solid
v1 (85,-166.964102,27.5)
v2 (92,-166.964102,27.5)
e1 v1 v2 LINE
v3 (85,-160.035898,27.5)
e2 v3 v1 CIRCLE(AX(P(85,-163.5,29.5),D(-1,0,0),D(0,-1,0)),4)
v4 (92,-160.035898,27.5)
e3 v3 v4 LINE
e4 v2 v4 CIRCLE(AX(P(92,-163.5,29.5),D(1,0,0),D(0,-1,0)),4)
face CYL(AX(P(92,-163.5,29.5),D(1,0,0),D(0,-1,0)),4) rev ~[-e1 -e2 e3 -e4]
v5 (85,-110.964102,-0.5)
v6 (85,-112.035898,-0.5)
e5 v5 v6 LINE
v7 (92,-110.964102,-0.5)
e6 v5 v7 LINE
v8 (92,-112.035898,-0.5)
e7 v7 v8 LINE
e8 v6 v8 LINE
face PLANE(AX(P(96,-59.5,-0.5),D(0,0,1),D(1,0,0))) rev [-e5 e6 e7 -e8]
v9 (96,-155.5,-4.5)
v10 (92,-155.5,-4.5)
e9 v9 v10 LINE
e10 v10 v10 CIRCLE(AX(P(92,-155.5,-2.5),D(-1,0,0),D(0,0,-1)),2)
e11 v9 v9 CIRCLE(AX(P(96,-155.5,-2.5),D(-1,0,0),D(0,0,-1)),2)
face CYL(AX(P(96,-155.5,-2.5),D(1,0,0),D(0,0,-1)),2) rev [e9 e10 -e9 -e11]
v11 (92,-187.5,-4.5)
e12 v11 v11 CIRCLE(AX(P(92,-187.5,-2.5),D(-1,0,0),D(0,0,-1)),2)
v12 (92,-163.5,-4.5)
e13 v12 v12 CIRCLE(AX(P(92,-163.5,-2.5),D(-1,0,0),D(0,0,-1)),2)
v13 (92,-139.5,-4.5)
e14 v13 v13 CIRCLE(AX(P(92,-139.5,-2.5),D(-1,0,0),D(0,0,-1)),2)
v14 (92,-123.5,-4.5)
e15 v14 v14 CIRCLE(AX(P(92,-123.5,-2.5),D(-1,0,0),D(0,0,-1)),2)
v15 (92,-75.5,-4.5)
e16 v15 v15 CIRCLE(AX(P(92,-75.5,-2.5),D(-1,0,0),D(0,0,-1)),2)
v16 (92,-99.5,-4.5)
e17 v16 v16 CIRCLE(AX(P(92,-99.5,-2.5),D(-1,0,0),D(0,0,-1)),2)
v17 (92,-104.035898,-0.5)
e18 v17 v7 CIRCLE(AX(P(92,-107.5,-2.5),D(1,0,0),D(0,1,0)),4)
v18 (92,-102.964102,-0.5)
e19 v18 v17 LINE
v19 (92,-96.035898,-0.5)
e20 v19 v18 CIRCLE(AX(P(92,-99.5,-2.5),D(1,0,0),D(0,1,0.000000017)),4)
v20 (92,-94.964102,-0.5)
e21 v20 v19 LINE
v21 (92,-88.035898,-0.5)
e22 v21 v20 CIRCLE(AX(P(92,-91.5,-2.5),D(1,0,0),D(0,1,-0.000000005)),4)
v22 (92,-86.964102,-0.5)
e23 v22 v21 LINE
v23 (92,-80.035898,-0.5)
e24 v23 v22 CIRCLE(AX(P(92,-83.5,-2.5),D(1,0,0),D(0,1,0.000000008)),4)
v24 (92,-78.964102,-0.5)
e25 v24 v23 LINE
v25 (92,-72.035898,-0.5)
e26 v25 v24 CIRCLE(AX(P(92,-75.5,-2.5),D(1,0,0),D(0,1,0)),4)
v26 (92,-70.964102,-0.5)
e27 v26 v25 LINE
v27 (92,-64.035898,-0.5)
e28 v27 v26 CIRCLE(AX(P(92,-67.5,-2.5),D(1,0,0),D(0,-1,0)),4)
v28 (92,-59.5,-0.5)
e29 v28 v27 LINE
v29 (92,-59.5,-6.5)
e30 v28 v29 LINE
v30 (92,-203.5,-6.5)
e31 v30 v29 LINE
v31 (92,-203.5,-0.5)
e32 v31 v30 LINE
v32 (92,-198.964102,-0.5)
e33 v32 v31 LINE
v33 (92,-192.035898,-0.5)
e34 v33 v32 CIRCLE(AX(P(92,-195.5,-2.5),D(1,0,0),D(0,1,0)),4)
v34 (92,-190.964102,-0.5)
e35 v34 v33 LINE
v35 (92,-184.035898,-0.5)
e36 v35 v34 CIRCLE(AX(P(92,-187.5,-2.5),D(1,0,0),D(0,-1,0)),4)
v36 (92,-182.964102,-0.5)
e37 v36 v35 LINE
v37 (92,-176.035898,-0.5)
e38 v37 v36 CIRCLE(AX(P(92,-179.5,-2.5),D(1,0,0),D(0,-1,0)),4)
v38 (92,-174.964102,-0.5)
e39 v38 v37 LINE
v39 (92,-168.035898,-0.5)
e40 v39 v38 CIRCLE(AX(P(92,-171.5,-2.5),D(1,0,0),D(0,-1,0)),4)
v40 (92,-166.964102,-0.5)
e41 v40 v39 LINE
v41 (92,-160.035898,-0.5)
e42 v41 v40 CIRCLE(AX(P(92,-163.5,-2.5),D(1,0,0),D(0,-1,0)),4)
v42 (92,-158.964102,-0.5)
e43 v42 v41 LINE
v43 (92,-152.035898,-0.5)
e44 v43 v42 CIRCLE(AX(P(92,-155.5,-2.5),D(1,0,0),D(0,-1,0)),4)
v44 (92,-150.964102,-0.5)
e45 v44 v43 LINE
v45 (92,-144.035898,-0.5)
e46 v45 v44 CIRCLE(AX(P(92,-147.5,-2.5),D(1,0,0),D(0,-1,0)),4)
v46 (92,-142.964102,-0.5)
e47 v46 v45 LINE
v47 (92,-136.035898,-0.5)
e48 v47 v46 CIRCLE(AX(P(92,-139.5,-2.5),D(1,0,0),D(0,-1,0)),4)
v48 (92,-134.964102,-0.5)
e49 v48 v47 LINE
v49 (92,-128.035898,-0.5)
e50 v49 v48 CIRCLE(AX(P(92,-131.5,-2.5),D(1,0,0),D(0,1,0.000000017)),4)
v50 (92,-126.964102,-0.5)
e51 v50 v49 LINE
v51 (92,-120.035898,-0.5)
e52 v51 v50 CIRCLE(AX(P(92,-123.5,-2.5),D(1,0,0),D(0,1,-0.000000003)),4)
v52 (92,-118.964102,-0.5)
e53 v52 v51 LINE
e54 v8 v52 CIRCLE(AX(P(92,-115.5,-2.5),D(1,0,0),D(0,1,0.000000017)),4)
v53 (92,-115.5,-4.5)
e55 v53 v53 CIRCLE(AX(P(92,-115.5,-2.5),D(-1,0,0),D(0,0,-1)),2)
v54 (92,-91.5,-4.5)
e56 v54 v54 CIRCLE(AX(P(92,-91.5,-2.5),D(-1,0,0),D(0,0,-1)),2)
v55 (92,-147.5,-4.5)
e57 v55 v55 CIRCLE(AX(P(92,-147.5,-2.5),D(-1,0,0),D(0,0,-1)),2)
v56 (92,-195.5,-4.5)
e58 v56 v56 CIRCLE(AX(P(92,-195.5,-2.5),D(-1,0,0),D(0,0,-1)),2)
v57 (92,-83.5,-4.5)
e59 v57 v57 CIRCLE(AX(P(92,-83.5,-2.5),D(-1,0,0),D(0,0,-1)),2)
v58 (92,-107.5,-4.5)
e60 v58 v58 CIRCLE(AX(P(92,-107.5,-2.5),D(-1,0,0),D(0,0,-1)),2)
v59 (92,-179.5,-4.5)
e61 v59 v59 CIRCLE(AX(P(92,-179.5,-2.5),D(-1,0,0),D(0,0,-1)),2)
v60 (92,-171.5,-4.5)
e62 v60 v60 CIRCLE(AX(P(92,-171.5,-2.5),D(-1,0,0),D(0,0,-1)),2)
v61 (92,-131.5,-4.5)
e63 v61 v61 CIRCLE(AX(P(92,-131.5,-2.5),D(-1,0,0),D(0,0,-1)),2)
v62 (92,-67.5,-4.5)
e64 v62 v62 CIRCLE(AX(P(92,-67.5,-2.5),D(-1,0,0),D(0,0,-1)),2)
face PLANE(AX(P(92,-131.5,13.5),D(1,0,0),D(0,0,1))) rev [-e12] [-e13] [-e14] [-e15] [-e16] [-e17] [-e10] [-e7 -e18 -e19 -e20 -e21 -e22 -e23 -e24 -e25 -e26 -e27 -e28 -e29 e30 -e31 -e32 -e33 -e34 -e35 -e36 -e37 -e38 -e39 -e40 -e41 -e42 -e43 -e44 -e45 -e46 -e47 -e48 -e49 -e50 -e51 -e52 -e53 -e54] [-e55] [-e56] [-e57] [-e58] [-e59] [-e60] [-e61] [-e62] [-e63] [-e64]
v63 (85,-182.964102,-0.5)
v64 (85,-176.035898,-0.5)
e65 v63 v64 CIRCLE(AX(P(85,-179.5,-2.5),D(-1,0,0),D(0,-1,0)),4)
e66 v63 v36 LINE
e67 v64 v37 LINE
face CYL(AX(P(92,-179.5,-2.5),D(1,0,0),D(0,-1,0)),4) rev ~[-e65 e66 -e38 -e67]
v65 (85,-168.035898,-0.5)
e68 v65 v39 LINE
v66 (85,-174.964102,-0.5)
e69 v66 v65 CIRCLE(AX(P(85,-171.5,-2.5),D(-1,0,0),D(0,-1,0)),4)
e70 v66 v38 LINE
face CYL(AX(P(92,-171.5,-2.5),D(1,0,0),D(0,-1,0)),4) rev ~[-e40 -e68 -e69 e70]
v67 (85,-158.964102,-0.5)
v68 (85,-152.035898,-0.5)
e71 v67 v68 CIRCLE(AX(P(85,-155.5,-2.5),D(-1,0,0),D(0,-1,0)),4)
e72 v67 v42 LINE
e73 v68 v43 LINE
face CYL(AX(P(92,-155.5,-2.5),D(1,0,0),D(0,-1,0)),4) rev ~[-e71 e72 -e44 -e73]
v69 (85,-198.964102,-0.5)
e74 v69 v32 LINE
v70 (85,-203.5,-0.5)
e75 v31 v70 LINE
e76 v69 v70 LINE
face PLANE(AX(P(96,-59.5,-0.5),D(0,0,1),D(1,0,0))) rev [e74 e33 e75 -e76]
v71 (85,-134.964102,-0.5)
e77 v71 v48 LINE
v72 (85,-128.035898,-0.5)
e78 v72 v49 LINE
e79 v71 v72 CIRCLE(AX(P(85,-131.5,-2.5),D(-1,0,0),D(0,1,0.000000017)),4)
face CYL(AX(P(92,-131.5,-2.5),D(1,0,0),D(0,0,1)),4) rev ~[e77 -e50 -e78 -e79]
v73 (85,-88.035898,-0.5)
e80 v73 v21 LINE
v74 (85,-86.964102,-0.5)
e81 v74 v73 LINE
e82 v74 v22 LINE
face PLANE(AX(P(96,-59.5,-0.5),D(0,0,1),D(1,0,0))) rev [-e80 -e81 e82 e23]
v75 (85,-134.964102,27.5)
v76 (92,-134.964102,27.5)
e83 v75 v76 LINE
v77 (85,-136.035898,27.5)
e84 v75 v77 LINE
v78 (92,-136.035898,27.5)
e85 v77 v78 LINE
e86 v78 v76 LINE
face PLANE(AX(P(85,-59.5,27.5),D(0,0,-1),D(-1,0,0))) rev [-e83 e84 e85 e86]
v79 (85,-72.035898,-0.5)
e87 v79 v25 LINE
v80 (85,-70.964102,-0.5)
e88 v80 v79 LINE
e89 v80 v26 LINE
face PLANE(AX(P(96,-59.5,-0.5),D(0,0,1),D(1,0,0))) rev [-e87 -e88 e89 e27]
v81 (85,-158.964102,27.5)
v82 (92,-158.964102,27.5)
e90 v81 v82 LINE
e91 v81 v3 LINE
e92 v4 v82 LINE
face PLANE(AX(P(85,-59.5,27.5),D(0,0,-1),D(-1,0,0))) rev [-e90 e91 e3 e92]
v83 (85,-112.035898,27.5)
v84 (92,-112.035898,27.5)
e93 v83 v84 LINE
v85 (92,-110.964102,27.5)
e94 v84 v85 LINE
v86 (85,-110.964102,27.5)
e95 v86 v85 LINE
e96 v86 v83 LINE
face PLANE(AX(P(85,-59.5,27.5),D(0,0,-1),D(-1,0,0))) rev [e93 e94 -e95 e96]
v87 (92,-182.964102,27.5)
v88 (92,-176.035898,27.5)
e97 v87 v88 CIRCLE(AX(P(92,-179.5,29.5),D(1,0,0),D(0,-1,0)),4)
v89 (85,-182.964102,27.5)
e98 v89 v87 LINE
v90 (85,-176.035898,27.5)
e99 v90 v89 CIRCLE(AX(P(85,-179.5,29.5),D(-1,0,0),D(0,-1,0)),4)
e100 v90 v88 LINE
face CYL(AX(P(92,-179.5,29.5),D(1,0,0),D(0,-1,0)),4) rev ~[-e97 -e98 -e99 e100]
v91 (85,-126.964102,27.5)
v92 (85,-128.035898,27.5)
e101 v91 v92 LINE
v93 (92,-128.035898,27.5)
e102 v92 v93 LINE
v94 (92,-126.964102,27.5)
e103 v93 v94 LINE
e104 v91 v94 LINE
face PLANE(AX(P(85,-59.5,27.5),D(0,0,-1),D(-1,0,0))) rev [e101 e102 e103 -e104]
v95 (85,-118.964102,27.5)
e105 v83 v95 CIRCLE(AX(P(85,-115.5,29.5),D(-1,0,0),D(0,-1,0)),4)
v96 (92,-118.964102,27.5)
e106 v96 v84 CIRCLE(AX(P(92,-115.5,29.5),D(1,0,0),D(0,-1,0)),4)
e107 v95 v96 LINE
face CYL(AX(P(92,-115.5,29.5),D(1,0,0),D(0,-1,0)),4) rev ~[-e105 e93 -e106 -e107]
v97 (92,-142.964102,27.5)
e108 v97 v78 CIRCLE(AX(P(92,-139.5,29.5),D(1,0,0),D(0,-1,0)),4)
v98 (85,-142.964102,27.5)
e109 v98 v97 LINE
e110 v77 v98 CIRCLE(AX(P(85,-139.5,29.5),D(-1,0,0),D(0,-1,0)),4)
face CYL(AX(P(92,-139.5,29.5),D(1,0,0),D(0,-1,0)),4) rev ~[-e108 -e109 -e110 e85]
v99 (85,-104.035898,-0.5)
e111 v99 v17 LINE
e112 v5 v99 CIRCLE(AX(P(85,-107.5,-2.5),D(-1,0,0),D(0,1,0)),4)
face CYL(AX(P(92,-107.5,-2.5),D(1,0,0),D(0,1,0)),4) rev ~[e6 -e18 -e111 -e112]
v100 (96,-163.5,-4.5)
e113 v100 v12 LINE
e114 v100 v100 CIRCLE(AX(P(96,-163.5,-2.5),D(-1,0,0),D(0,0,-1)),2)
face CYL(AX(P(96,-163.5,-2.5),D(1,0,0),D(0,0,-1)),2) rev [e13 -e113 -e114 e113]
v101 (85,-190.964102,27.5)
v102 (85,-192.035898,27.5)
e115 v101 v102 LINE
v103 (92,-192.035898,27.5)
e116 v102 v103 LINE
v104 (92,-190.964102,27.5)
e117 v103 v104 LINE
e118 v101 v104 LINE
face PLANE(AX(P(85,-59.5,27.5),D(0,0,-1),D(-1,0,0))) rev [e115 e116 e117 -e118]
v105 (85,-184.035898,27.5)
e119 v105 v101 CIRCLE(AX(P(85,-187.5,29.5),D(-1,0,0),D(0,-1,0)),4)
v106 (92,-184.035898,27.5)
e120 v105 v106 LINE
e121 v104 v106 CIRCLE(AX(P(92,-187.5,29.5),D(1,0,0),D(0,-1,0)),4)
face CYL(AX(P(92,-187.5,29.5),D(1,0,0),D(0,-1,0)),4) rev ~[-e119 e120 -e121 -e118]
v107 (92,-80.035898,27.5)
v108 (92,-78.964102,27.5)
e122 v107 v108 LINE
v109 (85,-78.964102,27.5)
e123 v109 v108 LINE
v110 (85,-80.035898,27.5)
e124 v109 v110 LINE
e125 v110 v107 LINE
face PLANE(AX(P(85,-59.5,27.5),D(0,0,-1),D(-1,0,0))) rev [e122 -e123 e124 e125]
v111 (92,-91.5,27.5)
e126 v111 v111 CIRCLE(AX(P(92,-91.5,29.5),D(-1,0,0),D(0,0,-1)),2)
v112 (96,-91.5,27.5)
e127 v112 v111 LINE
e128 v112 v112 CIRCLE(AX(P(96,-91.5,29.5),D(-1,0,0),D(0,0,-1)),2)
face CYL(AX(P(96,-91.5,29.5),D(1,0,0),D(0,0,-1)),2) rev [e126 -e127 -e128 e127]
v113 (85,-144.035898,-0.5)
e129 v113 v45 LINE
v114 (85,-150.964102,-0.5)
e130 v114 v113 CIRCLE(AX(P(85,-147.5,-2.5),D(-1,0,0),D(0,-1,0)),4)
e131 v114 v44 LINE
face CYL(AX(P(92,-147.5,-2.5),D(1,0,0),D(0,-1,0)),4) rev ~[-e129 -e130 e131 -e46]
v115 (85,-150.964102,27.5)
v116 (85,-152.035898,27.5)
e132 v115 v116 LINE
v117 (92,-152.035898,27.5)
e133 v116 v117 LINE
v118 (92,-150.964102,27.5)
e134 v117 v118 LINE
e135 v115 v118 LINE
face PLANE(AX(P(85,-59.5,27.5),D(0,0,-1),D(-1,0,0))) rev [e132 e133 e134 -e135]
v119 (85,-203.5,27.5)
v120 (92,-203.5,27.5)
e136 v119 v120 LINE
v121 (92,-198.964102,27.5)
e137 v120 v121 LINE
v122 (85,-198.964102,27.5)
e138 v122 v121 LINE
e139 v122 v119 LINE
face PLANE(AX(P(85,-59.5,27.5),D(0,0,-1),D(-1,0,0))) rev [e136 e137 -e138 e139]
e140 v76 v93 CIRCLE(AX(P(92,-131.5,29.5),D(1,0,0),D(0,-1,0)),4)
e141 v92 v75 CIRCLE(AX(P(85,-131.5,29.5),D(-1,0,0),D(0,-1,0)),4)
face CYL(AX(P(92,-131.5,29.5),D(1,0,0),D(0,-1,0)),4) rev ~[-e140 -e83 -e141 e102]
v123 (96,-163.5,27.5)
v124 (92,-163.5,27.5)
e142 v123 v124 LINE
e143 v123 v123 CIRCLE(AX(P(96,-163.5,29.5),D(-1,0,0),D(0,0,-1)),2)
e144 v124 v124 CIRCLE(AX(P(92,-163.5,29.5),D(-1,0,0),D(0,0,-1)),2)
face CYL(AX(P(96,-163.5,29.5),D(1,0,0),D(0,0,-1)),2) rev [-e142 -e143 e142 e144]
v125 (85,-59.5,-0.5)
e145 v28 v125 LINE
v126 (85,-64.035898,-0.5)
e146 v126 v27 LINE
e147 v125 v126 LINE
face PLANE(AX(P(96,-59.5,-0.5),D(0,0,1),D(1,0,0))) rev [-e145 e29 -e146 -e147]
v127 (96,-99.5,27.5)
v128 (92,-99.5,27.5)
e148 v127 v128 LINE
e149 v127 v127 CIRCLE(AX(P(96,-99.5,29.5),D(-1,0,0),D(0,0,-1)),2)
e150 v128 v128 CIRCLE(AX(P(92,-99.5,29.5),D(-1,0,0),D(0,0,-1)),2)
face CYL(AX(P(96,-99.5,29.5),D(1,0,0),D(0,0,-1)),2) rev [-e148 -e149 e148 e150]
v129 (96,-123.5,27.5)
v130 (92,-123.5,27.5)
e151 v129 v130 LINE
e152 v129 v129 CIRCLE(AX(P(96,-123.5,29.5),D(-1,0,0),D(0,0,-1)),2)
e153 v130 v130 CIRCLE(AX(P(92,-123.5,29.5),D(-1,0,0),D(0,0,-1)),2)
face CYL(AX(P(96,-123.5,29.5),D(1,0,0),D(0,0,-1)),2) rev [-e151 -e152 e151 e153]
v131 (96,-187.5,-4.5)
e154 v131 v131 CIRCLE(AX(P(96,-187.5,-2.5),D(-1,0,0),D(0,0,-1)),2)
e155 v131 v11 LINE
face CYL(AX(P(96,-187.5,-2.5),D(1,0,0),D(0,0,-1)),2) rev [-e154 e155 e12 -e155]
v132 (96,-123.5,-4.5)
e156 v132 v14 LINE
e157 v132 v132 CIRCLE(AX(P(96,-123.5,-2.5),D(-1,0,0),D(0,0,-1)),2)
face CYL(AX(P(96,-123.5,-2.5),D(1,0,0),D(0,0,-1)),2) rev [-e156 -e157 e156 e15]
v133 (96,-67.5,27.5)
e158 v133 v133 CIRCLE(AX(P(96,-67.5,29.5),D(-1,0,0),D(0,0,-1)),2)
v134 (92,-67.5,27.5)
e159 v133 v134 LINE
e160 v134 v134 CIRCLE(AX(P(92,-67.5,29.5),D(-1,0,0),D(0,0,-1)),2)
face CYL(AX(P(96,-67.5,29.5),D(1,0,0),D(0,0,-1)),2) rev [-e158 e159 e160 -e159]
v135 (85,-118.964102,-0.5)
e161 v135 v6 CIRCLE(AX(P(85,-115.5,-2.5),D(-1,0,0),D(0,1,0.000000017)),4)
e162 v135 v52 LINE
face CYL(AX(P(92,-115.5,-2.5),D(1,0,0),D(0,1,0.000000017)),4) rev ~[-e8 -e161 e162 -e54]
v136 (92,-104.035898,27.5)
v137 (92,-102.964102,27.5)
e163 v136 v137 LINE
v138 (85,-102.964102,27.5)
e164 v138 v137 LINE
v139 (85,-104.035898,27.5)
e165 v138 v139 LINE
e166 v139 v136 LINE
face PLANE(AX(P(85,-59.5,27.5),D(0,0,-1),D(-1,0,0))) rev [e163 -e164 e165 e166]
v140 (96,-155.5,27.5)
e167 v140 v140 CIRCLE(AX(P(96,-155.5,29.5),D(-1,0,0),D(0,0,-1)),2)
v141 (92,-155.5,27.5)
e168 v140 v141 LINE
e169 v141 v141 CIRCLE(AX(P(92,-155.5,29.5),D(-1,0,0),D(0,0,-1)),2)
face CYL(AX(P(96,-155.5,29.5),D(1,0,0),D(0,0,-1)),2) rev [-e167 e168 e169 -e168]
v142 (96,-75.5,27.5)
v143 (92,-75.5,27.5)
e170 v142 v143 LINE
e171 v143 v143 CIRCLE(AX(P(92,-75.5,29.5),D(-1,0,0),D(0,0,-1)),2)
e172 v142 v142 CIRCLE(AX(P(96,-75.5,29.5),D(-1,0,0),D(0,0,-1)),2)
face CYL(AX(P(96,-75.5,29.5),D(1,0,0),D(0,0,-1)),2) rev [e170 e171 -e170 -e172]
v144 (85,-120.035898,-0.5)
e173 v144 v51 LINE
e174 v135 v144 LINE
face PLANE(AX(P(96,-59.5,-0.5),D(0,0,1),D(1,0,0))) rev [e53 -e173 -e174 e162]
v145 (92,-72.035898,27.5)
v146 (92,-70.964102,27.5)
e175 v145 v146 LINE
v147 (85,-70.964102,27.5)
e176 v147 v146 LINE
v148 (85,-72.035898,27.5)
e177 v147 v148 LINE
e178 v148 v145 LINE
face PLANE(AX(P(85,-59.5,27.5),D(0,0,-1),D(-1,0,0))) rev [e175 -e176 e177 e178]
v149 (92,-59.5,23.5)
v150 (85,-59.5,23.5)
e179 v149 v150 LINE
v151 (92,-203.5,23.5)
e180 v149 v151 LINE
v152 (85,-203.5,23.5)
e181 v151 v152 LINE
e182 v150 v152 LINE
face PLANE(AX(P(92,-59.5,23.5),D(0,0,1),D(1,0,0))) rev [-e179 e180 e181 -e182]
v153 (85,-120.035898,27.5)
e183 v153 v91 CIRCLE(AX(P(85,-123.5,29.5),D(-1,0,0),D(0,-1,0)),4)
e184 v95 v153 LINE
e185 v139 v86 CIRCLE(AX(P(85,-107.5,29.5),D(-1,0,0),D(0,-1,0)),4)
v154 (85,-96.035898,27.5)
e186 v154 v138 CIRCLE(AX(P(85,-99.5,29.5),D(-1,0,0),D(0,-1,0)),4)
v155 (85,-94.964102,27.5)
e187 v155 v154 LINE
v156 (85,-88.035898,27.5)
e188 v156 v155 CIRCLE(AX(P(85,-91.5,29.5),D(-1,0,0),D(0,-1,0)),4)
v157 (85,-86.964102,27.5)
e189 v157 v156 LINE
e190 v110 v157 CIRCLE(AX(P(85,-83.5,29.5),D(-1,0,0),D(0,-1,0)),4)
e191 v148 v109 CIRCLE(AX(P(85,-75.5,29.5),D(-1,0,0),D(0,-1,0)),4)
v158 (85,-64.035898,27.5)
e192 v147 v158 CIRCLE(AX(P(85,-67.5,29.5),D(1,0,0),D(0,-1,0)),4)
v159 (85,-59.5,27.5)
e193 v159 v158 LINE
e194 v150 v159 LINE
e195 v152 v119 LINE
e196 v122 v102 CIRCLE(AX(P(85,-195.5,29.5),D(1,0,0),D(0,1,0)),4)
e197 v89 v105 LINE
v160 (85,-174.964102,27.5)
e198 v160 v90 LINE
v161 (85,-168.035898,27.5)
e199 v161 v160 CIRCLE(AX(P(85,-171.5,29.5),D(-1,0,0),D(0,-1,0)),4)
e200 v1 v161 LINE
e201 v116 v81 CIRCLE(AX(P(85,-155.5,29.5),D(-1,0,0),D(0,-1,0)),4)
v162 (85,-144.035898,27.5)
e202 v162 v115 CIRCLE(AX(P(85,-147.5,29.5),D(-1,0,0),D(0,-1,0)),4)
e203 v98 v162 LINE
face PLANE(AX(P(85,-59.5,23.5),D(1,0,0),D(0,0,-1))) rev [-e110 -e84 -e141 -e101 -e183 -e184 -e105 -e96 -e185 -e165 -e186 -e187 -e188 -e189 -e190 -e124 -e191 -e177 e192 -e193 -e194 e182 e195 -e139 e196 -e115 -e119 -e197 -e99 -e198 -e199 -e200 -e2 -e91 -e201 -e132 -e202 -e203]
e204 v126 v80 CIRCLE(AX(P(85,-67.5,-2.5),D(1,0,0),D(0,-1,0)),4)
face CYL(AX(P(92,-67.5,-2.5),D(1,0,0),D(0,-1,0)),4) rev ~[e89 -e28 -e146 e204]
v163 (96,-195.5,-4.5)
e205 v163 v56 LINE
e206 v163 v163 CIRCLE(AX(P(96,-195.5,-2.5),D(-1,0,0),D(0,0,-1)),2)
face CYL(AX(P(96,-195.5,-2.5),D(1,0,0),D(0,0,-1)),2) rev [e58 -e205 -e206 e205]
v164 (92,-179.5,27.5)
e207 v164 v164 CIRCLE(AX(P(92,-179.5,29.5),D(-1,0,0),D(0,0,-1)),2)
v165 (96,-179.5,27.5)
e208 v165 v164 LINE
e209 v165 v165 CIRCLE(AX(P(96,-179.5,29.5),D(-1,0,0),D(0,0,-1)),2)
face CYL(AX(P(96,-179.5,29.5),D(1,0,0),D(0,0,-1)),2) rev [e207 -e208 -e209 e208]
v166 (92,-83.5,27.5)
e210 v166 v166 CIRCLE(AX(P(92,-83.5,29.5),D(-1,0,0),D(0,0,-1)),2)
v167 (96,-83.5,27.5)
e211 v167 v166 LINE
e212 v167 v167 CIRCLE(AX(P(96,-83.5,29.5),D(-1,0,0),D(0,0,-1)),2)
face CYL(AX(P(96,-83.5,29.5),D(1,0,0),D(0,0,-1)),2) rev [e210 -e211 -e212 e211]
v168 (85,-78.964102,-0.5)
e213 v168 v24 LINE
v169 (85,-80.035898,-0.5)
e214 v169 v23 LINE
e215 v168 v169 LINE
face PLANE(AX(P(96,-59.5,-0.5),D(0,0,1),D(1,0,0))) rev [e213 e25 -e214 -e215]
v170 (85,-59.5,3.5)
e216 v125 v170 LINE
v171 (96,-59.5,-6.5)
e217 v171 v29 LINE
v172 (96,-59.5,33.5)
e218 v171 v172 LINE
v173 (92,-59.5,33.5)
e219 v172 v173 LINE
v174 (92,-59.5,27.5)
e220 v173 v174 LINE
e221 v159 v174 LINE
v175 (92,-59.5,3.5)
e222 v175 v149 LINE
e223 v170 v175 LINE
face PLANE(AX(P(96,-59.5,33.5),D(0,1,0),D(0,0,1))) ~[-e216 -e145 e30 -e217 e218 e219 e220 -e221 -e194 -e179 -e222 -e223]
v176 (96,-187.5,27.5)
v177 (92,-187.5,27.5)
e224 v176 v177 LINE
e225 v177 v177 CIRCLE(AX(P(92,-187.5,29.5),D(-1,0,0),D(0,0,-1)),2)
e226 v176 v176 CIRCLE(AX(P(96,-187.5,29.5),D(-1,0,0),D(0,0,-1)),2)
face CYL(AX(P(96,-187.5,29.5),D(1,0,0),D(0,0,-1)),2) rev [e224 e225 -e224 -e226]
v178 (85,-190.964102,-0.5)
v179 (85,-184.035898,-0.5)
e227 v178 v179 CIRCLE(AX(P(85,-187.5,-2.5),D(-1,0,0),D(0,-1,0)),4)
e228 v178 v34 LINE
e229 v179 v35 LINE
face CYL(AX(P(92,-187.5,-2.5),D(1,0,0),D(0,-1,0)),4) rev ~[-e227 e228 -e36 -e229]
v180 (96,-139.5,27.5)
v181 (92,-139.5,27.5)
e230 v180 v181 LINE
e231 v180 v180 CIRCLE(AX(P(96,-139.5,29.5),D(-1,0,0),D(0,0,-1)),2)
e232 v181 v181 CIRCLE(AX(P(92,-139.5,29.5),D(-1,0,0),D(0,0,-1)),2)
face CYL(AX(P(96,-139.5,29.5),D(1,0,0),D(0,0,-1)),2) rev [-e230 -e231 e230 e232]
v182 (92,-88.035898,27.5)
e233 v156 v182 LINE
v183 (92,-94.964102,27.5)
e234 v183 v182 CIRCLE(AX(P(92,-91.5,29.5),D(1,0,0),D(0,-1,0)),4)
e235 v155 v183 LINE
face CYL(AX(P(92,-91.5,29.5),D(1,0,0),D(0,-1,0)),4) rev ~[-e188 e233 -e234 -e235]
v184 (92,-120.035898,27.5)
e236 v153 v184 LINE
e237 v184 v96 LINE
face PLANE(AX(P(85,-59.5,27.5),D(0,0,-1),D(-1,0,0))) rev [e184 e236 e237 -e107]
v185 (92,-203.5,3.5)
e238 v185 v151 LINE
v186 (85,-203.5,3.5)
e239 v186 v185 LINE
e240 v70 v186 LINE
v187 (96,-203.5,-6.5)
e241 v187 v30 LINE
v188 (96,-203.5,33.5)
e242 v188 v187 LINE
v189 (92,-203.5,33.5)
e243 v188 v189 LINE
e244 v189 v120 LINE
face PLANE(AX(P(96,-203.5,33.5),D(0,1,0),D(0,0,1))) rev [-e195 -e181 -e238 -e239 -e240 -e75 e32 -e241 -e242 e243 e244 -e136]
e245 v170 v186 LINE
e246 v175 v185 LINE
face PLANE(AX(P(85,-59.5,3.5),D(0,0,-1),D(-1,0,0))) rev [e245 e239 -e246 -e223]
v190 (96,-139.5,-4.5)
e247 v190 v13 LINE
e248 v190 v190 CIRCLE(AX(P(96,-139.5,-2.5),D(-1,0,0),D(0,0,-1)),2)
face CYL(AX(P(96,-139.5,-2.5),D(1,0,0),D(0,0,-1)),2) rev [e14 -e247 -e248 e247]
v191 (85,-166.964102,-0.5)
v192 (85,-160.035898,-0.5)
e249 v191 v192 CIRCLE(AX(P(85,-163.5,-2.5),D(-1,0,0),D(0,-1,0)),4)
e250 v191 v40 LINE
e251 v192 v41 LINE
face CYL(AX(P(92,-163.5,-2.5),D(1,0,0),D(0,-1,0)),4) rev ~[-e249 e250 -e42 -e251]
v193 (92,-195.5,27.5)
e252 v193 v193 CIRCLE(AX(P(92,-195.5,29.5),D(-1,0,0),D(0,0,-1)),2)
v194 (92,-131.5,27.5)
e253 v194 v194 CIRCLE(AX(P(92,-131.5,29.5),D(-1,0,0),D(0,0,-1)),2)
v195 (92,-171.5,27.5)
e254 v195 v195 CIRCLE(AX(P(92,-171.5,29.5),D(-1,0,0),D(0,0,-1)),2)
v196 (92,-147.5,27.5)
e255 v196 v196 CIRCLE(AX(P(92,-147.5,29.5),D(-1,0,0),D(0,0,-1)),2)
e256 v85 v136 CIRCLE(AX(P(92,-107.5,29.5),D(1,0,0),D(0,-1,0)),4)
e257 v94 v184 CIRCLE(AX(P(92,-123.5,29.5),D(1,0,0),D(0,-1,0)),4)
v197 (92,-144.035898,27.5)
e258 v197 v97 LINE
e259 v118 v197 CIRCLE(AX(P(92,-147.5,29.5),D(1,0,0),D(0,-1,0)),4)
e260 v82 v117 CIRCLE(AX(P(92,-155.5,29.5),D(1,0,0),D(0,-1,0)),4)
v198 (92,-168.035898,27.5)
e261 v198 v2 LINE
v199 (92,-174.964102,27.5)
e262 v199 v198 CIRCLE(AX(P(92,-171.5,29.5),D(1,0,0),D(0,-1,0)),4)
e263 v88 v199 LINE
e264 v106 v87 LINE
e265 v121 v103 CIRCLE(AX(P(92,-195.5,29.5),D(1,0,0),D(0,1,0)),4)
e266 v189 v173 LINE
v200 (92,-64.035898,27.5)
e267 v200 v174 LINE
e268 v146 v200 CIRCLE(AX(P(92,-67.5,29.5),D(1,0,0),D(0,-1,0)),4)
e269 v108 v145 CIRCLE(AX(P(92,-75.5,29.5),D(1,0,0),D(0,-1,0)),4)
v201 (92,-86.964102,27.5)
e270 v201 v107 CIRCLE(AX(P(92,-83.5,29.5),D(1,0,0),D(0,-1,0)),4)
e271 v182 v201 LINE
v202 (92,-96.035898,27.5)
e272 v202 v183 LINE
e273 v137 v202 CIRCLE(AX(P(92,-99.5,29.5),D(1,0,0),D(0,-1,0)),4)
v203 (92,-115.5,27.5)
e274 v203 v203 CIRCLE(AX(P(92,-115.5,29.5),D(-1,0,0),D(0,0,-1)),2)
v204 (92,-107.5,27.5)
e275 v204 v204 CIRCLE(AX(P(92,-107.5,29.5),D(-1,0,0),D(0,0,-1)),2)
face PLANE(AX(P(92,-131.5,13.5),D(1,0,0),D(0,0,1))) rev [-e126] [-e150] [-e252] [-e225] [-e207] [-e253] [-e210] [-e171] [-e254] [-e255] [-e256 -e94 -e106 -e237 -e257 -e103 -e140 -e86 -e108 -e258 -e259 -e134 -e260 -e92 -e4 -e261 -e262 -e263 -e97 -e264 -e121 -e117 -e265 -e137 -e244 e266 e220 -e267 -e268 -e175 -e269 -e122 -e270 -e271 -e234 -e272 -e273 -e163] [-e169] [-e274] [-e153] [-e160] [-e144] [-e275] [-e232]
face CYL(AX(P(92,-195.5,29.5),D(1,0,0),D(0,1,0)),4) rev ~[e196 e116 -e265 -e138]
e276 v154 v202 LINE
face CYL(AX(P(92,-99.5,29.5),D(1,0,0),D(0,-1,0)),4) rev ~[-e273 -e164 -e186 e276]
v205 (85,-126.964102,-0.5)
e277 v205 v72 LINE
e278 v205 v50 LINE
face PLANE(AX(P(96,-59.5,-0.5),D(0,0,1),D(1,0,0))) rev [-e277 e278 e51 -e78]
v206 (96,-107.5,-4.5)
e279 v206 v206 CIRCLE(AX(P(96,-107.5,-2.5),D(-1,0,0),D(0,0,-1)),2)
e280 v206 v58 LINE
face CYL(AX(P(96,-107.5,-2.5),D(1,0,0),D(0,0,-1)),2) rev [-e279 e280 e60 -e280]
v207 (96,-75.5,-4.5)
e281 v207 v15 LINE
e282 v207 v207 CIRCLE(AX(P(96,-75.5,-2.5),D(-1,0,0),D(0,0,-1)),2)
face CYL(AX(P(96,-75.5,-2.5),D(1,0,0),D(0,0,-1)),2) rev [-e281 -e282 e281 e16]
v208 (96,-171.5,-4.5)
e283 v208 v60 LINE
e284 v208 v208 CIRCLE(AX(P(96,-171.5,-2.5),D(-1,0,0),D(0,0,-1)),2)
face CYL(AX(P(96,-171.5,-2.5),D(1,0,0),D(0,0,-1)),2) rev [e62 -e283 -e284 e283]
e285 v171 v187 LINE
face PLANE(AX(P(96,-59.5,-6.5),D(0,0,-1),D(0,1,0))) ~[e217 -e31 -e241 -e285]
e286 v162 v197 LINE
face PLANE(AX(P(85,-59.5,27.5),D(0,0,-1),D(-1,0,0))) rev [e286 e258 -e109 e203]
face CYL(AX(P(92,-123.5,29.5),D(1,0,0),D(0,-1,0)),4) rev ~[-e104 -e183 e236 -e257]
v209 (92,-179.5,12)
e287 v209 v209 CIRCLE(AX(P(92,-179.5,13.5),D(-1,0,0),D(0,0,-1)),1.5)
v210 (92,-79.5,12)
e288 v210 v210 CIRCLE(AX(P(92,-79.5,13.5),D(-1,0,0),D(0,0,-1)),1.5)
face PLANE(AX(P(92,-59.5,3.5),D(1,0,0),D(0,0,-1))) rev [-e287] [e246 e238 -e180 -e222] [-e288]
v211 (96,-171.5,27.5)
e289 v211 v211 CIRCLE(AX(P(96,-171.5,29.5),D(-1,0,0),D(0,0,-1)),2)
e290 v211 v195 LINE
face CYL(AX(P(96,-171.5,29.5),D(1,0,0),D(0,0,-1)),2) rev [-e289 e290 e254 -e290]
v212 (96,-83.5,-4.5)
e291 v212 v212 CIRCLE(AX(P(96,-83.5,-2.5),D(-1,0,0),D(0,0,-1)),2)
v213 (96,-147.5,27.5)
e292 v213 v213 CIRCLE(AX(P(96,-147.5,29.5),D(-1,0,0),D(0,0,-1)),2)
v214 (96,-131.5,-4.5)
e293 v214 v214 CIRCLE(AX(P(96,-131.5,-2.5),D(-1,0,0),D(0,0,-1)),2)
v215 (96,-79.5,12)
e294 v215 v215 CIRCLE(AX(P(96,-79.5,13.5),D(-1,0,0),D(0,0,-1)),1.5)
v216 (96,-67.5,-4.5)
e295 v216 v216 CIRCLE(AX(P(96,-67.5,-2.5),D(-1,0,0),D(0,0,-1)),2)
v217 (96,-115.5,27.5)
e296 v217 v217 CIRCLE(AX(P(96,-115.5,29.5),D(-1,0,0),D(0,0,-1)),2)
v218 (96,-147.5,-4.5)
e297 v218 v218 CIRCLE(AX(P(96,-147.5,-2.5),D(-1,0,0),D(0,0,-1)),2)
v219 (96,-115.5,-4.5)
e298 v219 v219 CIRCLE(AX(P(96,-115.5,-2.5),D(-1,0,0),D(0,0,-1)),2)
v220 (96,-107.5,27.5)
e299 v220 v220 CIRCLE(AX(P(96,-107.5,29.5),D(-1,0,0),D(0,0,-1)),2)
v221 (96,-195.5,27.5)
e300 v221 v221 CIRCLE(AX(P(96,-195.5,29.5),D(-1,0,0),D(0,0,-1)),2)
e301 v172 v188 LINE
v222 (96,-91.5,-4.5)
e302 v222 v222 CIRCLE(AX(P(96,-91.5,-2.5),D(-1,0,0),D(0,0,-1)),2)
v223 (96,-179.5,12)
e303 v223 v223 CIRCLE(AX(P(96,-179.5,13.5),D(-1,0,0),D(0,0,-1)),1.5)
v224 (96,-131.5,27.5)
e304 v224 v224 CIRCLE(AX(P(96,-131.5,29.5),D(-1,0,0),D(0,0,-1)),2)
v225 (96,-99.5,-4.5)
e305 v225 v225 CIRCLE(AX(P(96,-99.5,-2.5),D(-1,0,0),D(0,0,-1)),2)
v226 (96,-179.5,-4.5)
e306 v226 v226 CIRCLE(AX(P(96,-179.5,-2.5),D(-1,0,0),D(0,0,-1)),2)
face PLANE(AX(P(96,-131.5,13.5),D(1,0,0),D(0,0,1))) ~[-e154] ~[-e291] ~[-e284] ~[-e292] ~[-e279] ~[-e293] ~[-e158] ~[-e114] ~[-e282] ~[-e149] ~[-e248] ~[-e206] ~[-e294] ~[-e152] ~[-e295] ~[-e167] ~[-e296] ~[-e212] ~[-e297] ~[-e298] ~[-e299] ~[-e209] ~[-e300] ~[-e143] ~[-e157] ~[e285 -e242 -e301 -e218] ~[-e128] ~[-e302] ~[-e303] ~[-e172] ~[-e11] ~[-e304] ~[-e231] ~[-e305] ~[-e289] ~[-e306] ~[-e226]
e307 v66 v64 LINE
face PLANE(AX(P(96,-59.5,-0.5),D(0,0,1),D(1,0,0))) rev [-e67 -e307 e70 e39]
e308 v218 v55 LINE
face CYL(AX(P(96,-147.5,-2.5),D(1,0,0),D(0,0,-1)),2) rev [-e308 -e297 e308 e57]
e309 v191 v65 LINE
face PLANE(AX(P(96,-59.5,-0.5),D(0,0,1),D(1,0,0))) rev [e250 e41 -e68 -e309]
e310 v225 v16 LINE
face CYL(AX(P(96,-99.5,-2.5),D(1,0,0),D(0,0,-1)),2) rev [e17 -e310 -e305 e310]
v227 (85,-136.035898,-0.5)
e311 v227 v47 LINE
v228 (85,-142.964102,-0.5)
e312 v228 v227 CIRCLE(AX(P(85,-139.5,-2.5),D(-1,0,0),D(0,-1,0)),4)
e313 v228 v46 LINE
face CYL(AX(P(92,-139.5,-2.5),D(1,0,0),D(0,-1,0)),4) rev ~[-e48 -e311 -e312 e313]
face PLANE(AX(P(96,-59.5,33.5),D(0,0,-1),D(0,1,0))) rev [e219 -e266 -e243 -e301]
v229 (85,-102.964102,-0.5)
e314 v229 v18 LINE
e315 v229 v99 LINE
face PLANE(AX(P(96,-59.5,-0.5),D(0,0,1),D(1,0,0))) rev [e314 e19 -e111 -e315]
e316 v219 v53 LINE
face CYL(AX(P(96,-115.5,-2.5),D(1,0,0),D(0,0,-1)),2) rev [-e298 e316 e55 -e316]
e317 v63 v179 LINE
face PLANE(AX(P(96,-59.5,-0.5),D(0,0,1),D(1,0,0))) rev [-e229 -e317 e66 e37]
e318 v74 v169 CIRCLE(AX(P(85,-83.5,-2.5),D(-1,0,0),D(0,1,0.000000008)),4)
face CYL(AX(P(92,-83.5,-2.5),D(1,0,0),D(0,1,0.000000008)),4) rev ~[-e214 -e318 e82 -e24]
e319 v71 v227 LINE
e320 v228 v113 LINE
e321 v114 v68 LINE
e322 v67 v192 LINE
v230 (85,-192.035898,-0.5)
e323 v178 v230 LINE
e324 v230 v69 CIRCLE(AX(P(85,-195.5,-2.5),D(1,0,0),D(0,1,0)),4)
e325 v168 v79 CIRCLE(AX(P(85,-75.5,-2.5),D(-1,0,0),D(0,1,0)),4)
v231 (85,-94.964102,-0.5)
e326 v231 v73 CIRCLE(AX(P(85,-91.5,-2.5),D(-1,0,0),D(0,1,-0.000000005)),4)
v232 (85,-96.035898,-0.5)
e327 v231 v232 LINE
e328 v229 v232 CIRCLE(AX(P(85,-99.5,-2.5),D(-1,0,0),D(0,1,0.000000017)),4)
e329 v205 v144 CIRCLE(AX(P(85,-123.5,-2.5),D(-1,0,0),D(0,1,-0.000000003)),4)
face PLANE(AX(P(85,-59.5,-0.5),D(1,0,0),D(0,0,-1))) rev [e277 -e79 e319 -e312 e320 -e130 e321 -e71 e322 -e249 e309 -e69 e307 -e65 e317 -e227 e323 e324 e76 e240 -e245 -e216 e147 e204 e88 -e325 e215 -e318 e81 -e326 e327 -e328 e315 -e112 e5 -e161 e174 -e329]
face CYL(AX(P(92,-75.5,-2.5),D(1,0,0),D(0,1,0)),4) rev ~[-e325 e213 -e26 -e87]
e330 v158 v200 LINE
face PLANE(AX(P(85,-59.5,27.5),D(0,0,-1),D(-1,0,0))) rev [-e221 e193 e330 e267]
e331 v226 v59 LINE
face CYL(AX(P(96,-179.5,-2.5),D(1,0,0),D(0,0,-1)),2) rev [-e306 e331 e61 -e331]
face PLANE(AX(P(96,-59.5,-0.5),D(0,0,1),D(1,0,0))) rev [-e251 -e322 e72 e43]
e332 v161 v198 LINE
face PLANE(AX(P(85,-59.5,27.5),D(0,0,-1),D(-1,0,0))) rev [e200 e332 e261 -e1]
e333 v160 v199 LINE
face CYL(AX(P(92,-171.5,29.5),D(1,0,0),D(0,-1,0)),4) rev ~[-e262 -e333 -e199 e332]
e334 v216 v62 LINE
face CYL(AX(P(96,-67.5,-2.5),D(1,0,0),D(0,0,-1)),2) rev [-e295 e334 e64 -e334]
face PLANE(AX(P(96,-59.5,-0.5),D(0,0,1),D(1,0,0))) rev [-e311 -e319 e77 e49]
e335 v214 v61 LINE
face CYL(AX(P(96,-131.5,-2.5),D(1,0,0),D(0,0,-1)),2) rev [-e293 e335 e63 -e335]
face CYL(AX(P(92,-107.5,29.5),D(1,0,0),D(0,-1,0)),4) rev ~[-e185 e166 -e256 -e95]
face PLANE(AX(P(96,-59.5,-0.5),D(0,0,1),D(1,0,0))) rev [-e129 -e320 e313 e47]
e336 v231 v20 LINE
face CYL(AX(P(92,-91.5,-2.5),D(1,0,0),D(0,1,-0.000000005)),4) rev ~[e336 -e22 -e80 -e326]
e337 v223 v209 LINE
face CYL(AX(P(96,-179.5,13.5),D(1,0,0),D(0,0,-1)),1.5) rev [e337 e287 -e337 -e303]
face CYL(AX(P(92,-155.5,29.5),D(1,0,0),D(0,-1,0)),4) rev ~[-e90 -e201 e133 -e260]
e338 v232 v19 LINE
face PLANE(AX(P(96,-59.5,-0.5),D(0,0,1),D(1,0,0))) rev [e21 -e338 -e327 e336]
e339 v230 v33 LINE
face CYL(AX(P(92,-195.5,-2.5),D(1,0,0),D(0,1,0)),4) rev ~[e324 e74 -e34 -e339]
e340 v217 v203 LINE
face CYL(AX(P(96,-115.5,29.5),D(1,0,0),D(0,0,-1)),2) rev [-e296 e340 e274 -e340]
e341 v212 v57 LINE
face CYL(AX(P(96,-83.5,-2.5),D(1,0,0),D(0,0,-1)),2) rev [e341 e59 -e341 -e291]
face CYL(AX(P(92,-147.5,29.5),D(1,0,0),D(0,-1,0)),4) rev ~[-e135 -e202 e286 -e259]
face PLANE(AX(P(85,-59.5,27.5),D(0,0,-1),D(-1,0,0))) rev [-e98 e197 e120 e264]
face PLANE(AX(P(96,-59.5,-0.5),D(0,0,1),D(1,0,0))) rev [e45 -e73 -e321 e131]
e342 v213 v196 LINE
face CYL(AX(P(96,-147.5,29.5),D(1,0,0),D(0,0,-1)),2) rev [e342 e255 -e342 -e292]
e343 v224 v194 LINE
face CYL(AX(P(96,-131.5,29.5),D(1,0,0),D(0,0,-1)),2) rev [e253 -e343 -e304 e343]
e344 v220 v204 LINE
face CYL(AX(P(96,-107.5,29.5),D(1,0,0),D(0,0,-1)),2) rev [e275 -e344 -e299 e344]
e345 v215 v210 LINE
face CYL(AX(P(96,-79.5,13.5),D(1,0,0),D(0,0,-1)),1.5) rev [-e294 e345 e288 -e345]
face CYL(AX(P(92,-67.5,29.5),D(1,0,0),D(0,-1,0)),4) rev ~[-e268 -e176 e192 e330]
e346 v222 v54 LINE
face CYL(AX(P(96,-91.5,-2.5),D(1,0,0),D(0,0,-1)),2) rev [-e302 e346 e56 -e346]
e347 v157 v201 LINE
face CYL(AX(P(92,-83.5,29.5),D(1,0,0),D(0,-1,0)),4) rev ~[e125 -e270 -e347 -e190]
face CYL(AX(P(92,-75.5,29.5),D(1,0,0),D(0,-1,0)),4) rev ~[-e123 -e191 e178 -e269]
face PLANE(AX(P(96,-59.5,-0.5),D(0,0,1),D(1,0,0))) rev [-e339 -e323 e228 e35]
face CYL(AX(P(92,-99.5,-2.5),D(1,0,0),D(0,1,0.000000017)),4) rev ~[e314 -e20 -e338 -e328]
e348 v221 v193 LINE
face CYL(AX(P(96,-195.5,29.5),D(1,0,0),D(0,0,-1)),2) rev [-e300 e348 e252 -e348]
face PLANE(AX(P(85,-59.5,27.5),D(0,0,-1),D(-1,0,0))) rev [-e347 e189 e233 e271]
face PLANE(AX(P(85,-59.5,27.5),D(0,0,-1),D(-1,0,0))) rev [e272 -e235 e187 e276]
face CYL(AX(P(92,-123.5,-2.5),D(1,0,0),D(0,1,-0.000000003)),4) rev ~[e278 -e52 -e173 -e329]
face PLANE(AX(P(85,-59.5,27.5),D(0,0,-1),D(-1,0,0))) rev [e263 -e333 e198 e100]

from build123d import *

# Parameters (mm, degrees)
PAD026_DEPTH    = 144
SKETCH044_W     = 40
SKETCH044_H     = 144
PAD027_DEPTH    = 4
SKETCH045_R     = 1.5
POCKET014_DEPTH = 5
SKETCH046_R     = 2
POCKET015_DEPTH = 4
SKETCH047_R     = 4
POCKET016_DEPTH = 7


with BuildPart() as leftfront001:
    # Sketch043 → Pad026 (new body)
    with BuildSketch(Plane.XZ):
        Polygon((0, 0), (0, 10), (7, 10), (7, 14), (-4, 14), (-4, -14), (7, -14), (7, -10), (0, -10), align=None)
    extrude(amount=PAD026_DEPTH)

    # Sketch044 (on Face4 of Pad026) → Pad027 (join)
    with BuildSketch(Plane(origin=(-4, 0, 0), x_dir=(0, 0, -1), z_dir=(-1, 0, 0))):
        with Locations((0, 72)):
            Rectangle(SKETCH044_W, SKETCH044_H)
    extrude(amount=-PAD027_DEPTH)

    # Sketch045 (on Face14 of Pad027) → Pocket014 (cut)
    with BuildSketch(Plane(origin=(-4, 0, 0), x_dir=(0, 0, -1), z_dir=(-1, 0, 0))):
        with Locations((0, 20)):
            Circle(SKETCH045_R)
        with Locations((0, 120)):
            Circle(SKETCH045_R)
    extrude(amount=-POCKET014_DEPTH, mode=Mode.SUBTRACT)

    # Sketch046 (on Face14 of Pocket014) → Pocket015 (cut)
    with BuildSketch(Plane(origin=(-4, 0, 0), x_dir=(0, 0, -1), z_dir=(-1, 0, 0))):
        with Locations((-16, 8)):
            Circle(SKETCH046_R)
        with Locations((-16, 16)):
            Circle(SKETCH046_R)
        with Locations((-16, 24)):
            Circle(SKETCH046_R)
        with Locations((-16, 32)):
            Circle(SKETCH046_R)
        with Locations((-16, 40)):
            Circle(SKETCH046_R)
        with Locations((-16, 48)):
            Circle(SKETCH046_R)
        with Locations((-16, 56)):
            Circle(SKETCH046_R)
        with Locations((-16, 64)):
            Circle(SKETCH046_R)
        with Locations((-16, 136)):
            Circle(SKETCH046_R)
        with Locations((-16, 128)):
            Circle(SKETCH046_R)
        with Locations((-16, 120)):
            Circle(SKETCH046_R)
        with Locations((-16, 112)):
            Circle(SKETCH046_R)
        with Locations((-16, 104)):
            Circle(SKETCH046_R)
        with Locations((-16, 96)):
            Circle(SKETCH046_R)
        with Locations((-16, 88)):
            Circle(SKETCH046_R)
        with Locations((-16, 80)):
            Circle(SKETCH046_R)
        with Locations((-16, 72)):
            Circle(SKETCH046_R)
        with Locations((16, 136)):
            Circle(SKETCH046_R)
        with Locations((16, 128)):
            Circle(SKETCH046_R)
        with Locations((16, 120)):
            Circle(SKETCH046_R)
        with Locations((16, 112)):
            Circle(SKETCH046_R)
        with Locations((16, 104)):
            Circle(SKETCH046_R)
        with Locations((16, 96)):
            Circle(SKETCH046_R)
        with Locations((16, 88)):
            Circle(SKETCH046_R)
        with Locations((16, 80)):
            Circle(SKETCH046_R)
        with Locations((16, 72)):
            Circle(SKETCH046_R)
        with Locations((16, 64)):
            Circle(SKETCH046_R)
        with Locations((16, 56)):
            Circle(SKETCH046_R)
        with Locations((16, 48)):
            Circle(SKETCH046_R)
        with Locations((16, 40)):
            Circle(SKETCH046_R)
        with Locations((16, 32)):
            Circle(SKETCH046_R)
        with Locations((16, 24)):
            Circle(SKETCH046_R)
        with Locations((16, 16)):
            Circle(SKETCH046_R)
        with Locations((16, 8)):
            Circle(SKETCH046_R)
    extrude(amount=-POCKET015_DEPTH, mode=Mode.SUBTRACT)

    # Sketch047 (on Face16 of Pocket014) → Pocket016 (cut)
    with BuildSketch(Plane(origin=(0, 0, 0), x_dir=(0, 0, 1), z_dir=(1, 0, 0))):
        with Locations((-16, 8)):
            Circle(SKETCH047_R)
        with Locations((-16, 16)):
            Circle(SKETCH047_R)
        with Locations((-16, 24)):
            Circle(SKETCH047_R)
        with Locations((-16, 32)):
            Circle(SKETCH047_R)
        with Locations((-16, 40)):
            Circle(SKETCH047_R)
        with Locations((-16, 48)):
            Circle(SKETCH047_R)
        with Locations((-16, 56)):
            Circle(SKETCH047_R)
        with Locations((-16, 64)):
            Circle(SKETCH047_R)
        with Locations((-16, 136)):
            Circle(SKETCH047_R)
        with Locations((-16, 128)):
            Circle(SKETCH047_R)
        with Locations((-16, 120)):
            Circle(SKETCH047_R)
        with Locations((-16, 112)):
            Circle(SKETCH047_R)
        with Locations((-16, 104)):
            Circle(SKETCH047_R)
        with Locations((-16, 96)):
            Circle(SKETCH047_R)
        with Locations((-16, 88)):
            Circle(SKETCH047_R)
        with Locations((-16, 80)):
            Circle(SKETCH047_R)
        with Locations((-16, 72)):
            Circle(SKETCH047_R)
        with Locations((16, 136)):
            Circle(SKETCH047_R)
        with Locations((16, 128)):
            Circle(SKETCH047_R)
        with Locations((16, 120)):
            Circle(SKETCH047_R)
        with Locations((16, 112)):
            Circle(SKETCH047_R)
        with Locations((16, 104)):
            Circle(SKETCH047_R)
        with Locations((16, 96)):
            Circle(SKETCH047_R)
        with Locations((16, 88)):
            Circle(SKETCH047_R)
        with Locations((16, 80)):
            Circle(SKETCH047_R)
        with Locations((16, 72)):
            Circle(SKETCH047_R)
        with Locations((16, 64)):
            Circle(SKETCH047_R)
        with Locations((16, 56)):
            Circle(SKETCH047_R)
        with Locations((16, 48)):
            Circle(SKETCH047_R)
        with Locations((16, 40)):
            Circle(SKETCH047_R)
        with Locations((16, 32)):
            Circle(SKETCH047_R)
        with Locations((16, 24)):
            Circle(SKETCH047_R)
        with Locations((16, 16)):
            Circle(SKETCH047_R)
        with Locations((16, 8)):
            Circle(SKETCH047_R)
    extrude(amount=POCKET016_DEPTH, mode=Mode.SUBTRACT)


with BuildPart() as leftfront001_1:
    # Body014 placement: moved
    add(leftfront001.part.moved(Location((-92, -59.5, 13.5))))


with BuildPart() as rightfront001:
    # Part__Mirroring003: instance of LeftFront001
    add(leftfront001_1.part.mirror(Plane(origin=(0, 0, 0), x_dir=(0, -1, 0), z_dir=(1, 0, 0))))


solid = rightfront001.part
